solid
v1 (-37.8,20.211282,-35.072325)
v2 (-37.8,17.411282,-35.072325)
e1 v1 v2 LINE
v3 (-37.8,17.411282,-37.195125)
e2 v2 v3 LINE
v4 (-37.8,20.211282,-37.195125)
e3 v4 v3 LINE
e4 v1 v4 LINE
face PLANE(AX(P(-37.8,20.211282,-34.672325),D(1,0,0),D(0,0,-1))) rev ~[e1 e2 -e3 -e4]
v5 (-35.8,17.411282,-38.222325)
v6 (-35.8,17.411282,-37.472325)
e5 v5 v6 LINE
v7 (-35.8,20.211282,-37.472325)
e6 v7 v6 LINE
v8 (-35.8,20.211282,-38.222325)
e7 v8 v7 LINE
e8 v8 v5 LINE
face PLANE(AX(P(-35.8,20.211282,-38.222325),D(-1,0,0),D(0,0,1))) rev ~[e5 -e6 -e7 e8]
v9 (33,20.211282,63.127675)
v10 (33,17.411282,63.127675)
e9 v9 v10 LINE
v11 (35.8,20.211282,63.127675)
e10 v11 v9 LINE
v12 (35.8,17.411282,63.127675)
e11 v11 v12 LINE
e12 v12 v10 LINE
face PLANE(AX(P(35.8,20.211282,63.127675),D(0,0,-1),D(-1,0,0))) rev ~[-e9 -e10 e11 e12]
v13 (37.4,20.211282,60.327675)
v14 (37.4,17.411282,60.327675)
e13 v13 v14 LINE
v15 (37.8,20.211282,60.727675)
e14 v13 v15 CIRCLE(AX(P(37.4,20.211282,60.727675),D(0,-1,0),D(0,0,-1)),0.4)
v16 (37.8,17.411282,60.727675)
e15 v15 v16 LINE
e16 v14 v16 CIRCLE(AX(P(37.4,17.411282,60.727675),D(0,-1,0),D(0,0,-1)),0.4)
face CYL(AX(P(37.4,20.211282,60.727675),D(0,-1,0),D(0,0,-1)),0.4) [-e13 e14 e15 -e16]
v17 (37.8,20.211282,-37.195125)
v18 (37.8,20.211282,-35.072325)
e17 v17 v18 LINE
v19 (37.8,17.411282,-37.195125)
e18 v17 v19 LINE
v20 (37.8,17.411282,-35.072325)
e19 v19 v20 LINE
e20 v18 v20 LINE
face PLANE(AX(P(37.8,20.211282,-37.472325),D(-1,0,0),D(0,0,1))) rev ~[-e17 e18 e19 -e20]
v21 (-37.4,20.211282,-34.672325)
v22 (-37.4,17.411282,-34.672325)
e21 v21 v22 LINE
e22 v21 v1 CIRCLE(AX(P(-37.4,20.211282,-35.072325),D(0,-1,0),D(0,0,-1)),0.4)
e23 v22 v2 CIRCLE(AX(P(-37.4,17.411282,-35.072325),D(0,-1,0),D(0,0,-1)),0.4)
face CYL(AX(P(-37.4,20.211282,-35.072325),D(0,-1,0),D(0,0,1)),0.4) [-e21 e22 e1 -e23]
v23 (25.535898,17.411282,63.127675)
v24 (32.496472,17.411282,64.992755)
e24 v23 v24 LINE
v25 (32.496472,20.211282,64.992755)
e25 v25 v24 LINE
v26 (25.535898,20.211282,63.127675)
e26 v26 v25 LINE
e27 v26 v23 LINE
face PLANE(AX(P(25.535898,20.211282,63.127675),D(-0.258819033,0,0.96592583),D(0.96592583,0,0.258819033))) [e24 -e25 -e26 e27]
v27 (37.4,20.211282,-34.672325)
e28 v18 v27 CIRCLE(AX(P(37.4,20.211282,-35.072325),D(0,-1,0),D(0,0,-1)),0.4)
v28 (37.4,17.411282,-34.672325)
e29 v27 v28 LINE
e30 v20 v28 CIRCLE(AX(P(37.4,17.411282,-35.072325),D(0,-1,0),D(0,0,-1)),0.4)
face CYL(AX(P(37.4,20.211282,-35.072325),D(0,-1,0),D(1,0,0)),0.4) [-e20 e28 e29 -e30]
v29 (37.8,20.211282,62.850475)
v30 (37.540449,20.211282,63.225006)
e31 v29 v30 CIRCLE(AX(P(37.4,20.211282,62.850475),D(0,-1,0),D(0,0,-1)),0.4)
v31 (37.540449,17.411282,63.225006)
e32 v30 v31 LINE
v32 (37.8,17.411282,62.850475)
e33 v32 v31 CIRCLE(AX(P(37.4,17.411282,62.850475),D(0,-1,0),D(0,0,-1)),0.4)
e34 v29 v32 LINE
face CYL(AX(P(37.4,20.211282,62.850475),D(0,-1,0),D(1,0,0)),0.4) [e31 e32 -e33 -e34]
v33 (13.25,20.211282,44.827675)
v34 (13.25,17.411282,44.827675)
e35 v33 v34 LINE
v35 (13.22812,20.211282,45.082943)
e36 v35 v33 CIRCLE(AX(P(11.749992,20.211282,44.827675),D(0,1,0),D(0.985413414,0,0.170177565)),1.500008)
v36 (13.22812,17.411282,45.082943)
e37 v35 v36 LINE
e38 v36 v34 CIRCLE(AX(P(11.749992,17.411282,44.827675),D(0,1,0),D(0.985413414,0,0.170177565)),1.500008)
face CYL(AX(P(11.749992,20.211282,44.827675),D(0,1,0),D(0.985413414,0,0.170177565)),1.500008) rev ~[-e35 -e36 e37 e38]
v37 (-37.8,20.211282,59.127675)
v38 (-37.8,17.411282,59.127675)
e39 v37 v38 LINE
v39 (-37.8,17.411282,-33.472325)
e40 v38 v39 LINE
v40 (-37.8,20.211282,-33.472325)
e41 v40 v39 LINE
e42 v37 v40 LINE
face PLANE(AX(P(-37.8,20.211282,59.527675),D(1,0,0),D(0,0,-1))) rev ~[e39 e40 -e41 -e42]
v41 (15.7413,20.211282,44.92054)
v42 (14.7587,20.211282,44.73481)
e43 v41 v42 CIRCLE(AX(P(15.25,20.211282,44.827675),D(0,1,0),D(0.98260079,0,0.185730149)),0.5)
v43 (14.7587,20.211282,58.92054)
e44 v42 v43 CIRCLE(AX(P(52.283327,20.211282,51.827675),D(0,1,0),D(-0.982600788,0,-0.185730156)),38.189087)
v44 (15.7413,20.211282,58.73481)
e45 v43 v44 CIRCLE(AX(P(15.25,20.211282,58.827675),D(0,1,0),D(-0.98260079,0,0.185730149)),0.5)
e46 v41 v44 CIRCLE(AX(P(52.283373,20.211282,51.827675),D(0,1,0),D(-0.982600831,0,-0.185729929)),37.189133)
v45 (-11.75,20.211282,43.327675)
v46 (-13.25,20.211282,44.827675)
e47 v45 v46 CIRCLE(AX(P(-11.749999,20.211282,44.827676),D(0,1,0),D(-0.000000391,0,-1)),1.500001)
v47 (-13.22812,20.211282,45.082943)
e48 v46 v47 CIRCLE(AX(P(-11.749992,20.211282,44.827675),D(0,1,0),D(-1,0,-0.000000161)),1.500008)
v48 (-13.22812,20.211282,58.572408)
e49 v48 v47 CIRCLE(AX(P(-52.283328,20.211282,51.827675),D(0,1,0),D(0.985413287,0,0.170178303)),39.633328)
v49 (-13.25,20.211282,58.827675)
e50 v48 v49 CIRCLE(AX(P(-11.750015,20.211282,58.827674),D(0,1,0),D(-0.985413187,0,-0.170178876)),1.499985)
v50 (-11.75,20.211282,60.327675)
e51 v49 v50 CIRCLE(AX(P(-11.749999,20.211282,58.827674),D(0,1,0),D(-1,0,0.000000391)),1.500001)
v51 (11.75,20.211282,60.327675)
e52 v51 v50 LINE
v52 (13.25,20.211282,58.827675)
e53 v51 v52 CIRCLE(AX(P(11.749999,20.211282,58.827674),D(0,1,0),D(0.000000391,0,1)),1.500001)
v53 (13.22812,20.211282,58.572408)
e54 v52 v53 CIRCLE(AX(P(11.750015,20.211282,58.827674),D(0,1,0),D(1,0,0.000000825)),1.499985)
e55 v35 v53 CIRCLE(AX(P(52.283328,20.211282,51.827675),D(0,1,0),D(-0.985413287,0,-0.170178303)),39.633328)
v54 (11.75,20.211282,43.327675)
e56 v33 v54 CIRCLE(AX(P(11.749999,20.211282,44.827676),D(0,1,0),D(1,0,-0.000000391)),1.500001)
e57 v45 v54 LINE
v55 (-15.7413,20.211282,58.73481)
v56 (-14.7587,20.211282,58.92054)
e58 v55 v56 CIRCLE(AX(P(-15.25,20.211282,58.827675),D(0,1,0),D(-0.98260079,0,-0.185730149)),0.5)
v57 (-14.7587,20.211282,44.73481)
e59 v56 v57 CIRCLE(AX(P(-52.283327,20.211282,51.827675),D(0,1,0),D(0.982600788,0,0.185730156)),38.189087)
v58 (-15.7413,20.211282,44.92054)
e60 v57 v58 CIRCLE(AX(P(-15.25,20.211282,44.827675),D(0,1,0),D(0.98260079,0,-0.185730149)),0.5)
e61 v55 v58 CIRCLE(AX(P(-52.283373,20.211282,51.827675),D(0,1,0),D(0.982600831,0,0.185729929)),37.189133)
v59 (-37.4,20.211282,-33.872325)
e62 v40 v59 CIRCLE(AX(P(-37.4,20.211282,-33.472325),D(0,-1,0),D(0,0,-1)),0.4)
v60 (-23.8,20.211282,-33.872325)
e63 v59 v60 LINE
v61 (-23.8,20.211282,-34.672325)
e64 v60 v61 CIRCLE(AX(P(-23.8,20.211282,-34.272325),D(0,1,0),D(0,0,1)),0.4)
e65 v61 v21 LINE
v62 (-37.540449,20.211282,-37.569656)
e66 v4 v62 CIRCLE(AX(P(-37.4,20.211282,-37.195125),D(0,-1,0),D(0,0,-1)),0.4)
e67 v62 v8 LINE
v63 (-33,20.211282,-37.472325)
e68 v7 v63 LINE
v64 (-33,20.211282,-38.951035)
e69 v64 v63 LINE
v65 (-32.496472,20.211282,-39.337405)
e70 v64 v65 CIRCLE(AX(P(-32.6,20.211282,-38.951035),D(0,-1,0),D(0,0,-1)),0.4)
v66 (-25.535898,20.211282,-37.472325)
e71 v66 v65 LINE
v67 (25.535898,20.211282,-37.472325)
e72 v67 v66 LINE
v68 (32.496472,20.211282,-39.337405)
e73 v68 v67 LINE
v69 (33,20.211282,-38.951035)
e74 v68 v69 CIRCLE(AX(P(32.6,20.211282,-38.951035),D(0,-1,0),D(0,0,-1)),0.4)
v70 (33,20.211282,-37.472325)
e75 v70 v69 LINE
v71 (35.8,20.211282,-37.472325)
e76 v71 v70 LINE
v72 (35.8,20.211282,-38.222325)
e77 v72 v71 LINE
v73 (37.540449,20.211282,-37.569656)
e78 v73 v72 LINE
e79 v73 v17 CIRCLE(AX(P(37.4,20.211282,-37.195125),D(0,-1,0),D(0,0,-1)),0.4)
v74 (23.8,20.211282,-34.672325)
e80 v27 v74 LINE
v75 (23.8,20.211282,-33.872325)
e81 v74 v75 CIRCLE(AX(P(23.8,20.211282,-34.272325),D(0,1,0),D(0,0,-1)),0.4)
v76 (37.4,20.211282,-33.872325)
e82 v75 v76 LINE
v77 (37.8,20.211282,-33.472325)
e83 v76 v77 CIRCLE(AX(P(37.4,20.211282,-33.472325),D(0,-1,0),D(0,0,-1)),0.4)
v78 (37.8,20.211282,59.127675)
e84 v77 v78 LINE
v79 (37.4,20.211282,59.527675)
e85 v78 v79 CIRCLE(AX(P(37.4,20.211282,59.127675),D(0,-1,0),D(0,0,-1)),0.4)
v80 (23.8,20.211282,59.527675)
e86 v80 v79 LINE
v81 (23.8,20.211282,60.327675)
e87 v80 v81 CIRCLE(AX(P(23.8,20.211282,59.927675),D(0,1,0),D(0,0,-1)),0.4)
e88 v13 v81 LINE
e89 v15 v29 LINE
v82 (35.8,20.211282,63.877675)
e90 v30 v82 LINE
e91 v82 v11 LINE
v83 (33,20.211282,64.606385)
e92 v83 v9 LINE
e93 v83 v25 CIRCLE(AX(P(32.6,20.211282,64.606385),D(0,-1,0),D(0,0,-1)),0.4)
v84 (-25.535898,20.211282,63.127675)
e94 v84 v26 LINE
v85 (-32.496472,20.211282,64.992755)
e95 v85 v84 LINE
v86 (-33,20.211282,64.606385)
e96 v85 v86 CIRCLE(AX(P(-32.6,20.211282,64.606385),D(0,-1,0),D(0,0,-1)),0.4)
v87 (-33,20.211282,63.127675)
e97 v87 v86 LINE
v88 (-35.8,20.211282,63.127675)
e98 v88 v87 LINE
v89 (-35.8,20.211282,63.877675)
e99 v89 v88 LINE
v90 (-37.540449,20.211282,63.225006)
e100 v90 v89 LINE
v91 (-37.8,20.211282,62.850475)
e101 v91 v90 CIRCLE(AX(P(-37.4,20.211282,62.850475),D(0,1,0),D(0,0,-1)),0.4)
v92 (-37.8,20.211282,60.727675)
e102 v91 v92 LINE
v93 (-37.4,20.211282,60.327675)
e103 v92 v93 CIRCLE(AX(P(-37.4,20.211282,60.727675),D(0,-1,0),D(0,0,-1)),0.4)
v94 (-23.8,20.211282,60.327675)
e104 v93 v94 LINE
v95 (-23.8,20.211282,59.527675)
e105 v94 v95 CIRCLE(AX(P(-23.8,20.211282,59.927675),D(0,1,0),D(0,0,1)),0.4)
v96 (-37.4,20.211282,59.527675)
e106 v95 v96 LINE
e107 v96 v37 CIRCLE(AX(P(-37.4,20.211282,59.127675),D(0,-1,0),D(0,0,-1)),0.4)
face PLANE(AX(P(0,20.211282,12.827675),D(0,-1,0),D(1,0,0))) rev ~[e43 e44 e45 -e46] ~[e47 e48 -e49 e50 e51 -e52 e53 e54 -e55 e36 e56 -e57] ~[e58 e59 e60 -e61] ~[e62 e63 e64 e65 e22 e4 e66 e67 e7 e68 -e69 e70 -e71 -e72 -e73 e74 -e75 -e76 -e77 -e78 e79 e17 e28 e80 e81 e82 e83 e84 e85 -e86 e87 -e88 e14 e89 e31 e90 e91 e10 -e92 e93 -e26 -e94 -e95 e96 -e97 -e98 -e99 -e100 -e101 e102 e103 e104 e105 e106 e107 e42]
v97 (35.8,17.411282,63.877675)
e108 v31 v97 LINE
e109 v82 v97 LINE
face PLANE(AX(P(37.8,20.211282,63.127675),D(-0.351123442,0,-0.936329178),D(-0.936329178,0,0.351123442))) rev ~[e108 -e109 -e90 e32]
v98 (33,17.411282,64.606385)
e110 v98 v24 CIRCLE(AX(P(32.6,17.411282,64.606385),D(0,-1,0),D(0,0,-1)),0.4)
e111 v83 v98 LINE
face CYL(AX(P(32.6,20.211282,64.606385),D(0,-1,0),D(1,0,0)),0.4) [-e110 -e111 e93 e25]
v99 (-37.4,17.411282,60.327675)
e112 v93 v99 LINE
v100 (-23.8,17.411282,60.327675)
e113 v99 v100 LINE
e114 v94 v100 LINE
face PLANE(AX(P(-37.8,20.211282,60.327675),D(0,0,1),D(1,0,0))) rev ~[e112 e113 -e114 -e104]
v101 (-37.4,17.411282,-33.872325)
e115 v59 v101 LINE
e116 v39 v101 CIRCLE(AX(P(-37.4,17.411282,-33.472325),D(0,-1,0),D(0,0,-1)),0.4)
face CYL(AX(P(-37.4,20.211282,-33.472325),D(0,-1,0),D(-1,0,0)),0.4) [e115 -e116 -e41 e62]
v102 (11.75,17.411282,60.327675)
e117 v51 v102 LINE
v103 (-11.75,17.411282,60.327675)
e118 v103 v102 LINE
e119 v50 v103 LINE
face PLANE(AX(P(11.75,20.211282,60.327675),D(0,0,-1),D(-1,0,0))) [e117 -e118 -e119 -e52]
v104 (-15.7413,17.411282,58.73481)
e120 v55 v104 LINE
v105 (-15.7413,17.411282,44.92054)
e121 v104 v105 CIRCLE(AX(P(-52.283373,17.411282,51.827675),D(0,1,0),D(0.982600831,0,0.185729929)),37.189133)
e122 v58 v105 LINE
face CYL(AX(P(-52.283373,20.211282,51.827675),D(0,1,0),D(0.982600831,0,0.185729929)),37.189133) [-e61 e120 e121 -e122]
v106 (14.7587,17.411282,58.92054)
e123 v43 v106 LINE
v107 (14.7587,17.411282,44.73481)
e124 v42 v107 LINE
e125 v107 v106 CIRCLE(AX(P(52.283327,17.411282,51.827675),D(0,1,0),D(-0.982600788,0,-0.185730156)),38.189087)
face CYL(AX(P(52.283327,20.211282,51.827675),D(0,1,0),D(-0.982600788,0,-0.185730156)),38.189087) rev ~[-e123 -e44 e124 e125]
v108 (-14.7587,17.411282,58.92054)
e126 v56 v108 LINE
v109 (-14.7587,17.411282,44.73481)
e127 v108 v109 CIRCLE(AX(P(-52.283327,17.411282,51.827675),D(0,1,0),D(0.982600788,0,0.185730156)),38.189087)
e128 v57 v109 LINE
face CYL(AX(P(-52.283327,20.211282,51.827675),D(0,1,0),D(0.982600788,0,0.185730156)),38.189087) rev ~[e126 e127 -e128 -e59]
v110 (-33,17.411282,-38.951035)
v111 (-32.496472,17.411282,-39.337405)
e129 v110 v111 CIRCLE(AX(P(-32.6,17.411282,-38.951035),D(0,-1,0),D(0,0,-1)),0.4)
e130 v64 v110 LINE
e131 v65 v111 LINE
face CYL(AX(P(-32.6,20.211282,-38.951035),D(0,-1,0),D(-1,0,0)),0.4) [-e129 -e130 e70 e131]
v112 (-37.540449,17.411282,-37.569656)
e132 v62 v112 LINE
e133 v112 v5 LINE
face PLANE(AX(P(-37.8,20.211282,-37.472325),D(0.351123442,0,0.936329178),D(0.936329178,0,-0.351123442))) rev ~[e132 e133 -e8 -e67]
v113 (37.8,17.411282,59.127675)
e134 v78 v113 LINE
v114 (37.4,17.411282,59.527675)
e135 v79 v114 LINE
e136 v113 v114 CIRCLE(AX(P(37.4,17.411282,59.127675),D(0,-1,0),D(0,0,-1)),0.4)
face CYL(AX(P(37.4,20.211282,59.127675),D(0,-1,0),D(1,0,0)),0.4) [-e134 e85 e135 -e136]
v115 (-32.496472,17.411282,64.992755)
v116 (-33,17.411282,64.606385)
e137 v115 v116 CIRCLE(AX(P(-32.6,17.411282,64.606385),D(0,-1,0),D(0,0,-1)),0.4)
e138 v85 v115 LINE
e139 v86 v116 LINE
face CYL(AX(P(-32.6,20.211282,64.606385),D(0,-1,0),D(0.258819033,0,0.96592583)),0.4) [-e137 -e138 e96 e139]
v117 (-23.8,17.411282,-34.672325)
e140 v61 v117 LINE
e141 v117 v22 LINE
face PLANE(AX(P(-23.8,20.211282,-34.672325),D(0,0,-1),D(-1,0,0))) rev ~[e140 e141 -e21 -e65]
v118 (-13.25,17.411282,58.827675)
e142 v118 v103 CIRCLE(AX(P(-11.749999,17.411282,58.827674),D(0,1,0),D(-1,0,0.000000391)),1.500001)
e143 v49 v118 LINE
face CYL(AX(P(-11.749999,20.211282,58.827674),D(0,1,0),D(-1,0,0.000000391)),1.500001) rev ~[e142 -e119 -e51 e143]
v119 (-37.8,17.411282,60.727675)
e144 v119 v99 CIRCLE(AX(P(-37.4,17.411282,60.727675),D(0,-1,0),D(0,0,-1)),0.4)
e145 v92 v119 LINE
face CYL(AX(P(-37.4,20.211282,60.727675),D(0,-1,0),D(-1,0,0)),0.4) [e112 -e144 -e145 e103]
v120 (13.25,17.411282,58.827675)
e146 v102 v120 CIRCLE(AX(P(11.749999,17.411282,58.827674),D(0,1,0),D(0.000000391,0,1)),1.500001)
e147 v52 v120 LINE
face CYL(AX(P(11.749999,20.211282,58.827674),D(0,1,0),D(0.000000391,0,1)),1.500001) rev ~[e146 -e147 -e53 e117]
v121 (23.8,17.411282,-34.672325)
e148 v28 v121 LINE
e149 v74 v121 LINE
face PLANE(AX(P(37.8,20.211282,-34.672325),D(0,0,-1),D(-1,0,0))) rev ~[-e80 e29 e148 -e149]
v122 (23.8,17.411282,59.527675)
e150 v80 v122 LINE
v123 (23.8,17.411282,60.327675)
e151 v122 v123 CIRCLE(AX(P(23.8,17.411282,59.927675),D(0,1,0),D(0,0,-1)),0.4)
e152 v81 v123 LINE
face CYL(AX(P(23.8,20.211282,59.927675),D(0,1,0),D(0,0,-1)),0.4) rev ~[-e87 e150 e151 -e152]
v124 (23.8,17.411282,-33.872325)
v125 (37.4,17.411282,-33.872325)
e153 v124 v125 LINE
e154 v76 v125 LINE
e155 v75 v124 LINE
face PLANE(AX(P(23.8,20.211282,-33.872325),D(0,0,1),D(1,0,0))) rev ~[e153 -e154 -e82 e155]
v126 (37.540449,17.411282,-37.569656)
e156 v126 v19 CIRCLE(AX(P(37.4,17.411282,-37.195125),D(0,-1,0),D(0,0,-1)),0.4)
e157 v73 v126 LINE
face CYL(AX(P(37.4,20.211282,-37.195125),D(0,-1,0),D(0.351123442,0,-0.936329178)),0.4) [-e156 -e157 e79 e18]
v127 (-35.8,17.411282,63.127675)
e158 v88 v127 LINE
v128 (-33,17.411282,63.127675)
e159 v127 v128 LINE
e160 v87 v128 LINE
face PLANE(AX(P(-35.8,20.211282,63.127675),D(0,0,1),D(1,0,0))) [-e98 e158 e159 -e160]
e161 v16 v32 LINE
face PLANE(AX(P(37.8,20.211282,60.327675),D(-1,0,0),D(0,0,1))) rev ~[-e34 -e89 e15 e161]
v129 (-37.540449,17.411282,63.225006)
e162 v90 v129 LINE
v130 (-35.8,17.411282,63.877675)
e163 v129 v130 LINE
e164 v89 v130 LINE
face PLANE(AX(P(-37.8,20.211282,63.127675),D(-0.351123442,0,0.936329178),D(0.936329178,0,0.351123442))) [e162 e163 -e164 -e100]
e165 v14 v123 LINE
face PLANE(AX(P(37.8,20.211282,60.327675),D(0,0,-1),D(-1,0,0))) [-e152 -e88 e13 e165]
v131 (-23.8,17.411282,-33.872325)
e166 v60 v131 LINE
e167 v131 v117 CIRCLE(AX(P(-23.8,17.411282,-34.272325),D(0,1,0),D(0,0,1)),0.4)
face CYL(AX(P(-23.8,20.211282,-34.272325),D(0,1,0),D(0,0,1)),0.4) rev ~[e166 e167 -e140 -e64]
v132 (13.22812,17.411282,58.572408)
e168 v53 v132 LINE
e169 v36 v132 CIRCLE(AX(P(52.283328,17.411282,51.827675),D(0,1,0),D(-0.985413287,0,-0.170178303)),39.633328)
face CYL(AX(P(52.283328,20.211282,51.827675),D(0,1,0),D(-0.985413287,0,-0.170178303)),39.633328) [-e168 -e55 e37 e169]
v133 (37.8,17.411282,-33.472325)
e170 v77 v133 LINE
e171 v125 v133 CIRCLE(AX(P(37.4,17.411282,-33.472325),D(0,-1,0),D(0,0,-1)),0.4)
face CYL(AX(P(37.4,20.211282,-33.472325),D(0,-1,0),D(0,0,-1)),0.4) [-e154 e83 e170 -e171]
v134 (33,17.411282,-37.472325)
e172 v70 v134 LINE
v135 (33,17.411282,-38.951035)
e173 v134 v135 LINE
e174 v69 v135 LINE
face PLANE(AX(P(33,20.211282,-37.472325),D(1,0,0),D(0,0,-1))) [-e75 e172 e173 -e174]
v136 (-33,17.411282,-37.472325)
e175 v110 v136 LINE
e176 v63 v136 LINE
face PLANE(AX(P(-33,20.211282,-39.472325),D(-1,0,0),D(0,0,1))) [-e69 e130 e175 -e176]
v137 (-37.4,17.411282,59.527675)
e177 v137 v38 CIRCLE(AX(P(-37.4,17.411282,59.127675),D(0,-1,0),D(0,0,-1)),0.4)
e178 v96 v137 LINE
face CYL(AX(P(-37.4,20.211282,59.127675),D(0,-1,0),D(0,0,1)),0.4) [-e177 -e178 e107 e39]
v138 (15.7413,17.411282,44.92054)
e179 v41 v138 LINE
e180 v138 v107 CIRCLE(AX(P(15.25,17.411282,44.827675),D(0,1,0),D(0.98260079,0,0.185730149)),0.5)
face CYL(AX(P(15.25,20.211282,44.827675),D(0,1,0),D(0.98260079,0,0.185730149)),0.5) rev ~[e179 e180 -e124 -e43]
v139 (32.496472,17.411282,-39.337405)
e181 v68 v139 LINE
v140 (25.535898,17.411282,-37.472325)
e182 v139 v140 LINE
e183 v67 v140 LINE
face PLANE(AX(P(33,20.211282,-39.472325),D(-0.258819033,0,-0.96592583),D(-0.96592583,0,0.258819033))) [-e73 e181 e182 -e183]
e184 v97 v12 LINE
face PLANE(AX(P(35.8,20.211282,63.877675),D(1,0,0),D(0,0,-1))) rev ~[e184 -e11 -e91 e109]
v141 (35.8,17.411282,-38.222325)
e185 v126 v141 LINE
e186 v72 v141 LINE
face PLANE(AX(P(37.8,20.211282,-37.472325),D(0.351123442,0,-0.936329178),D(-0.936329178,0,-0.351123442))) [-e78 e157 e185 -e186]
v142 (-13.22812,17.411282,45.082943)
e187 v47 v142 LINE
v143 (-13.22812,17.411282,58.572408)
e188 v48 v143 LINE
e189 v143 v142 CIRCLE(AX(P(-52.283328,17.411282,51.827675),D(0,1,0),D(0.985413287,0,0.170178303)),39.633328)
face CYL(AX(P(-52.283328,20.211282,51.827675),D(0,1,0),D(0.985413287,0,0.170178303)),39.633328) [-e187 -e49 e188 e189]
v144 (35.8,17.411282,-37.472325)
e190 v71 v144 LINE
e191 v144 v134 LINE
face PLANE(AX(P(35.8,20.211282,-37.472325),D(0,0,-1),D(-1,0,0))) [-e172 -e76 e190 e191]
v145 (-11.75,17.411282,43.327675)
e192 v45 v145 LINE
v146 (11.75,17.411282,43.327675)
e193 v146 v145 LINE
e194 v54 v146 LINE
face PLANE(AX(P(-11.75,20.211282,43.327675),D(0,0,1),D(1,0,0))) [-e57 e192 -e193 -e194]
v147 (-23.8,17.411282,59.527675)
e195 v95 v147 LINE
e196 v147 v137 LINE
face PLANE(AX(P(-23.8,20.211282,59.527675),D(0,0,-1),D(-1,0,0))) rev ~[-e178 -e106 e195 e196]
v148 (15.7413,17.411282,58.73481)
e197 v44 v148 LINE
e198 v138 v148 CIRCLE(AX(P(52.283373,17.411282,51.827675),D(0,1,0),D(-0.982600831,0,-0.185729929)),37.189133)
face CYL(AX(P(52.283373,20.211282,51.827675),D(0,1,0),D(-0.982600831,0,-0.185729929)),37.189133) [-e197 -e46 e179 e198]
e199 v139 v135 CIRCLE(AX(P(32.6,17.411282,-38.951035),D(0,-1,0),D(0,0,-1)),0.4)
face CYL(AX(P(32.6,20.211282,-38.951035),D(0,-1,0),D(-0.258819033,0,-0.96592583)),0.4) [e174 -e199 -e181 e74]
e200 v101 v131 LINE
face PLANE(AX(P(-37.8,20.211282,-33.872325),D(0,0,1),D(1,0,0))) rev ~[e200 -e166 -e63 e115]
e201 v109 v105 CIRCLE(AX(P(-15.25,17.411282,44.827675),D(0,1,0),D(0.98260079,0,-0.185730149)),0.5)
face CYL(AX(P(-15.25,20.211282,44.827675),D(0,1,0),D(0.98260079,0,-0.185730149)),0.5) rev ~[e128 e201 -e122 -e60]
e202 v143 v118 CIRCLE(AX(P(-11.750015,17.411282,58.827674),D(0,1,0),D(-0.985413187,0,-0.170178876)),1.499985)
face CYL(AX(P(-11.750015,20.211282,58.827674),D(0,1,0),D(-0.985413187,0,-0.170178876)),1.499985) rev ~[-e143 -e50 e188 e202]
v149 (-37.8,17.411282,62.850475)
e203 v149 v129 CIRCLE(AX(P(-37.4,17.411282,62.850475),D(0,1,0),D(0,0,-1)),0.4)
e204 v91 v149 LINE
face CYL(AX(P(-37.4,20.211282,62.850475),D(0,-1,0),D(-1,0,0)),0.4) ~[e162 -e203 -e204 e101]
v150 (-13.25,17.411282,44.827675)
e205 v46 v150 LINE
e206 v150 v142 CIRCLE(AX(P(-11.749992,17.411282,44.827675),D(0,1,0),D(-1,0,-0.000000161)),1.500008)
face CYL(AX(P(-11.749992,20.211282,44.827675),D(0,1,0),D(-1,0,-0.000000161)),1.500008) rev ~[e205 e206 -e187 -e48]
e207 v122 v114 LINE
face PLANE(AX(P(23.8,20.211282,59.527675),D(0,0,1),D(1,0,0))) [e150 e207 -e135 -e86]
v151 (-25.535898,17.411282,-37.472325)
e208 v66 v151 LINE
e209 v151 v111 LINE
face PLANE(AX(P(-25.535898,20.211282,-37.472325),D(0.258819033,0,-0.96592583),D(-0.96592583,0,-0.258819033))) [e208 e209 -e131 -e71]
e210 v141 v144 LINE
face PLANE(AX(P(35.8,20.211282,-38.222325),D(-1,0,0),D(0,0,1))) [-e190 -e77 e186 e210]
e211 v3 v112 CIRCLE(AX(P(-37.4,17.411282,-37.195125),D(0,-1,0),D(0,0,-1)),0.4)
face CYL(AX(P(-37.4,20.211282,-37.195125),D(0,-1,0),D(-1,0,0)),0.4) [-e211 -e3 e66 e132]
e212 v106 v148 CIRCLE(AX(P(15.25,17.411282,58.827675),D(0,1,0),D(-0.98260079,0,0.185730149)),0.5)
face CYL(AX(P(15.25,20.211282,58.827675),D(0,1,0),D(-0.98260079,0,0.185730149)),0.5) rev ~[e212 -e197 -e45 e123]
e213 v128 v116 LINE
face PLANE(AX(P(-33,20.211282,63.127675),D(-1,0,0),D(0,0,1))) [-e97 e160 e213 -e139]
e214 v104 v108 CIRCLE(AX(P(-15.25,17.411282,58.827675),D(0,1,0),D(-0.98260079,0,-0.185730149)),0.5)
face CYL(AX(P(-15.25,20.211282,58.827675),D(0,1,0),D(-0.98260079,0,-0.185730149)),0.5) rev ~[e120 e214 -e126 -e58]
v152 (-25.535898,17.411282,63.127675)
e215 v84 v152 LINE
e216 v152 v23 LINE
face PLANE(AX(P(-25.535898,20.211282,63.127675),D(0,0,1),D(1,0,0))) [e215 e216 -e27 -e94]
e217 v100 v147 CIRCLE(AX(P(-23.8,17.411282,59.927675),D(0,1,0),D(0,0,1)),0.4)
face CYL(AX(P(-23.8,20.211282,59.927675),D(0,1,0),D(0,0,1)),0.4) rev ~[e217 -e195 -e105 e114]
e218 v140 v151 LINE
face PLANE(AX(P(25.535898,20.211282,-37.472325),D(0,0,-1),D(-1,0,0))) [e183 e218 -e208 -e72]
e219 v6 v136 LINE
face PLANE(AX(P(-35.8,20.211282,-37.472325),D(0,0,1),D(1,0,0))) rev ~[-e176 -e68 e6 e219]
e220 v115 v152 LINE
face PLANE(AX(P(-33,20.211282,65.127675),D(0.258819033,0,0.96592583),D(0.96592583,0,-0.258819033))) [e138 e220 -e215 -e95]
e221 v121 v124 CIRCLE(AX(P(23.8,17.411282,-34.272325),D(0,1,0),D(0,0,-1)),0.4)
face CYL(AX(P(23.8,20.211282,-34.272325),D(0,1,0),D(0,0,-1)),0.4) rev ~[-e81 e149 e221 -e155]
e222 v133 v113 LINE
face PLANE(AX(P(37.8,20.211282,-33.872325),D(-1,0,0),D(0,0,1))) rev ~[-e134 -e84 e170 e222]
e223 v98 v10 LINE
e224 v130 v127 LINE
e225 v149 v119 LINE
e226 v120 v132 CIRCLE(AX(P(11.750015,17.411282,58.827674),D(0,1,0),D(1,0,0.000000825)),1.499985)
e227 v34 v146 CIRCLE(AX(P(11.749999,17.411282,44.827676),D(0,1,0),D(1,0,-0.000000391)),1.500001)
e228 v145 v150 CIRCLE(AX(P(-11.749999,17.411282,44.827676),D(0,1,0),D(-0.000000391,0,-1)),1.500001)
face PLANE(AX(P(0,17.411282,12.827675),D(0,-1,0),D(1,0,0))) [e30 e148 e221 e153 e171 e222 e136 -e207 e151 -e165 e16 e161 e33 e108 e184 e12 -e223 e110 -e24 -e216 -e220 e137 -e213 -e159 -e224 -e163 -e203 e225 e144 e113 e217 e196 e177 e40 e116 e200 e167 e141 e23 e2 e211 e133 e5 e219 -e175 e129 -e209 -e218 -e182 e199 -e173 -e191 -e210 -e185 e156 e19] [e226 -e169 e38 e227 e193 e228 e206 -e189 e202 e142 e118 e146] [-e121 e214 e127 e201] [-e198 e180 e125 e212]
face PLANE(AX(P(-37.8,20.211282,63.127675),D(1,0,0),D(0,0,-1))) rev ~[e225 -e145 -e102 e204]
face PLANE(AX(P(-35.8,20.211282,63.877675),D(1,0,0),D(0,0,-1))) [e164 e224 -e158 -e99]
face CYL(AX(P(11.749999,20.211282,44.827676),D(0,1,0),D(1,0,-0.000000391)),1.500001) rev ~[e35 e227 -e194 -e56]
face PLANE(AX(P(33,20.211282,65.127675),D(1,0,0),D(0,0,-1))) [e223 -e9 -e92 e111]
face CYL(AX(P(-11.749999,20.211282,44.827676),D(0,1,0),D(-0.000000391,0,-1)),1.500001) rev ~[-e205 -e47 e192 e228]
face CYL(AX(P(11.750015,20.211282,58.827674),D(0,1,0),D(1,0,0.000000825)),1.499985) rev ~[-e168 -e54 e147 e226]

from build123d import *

# Parameters (mm, degrees)
PAD008_DEPTH    = 2.8
FILLET001_R     = 0.4
POCKET007_DEPTH = 2.801


with BuildPart() as part:
    # Sketch008 (on Face4 of ShapeBinder007) → Pad008 (new body)
    with BuildSketch(Plane(origin=(0, 20.211282, 0), x_dir=(-1, 0, 0), z_dir=(0, 1, 0))):
        with BuildLine():
            Line((37.8, 63.127675), (37.8, 60.327675))
            Line((37.8, 60.327675), (23.8, 60.327675))
            ThreePointArc((23.8, 60.327675), (23.4, 59.927675), (23.8, 59.527675))
            Line((23.8, 59.527675), (37.8, 59.527675))
            Line((37.8, 59.527675), (37.8, -33.872325))
            Line((37.8, -33.872325), (23.8, -33.872325))
            ThreePointArc((23.8, -33.872325), (23.4, -34.272325), (23.8, -34.672325))
            Line((23.8, -34.672325), (37.8, -34.672325))
            Line((37.8, -34.672325), (37.8, -37.472325))
            Line((37.8, -37.472325), (35.8, -38.222325))
            Line((35.8, -38.222325), (35.8, -37.472325))
            Line((35.8, -37.472325), (33, -37.472325))
            Line((33, -39.472325), (33, -37.472325))
            Line((25.535898, -37.472325), (33, -39.472325))
            Line((-25.535898, -37.472325), (25.535898, -37.472325))
            Line((-33, -39.472325), (-25.535898, -37.472325))
            Line((-33, -37.472325), (-33, -39.472325))
            Line((-35.8, -37.472325), (-33, -37.472325))
            Line((-35.8, -38.222325), (-35.8, -37.472325))
            Line((-37.8, -37.472325), (-35.8, -38.222325))
            Line((-37.8, -37.472325), (-37.8, -34.672325))
            Line((-37.8, -34.672325), (-23.8, -34.672325))
            ThreePointArc((-23.8, -34.672325), (-23.4, -34.272325), (-23.8, -33.872325))
            Line((-23.8, -33.872325), (-37.8, -33.872325))
            Line((-37.8, -33.872325), (-37.8, 59.527675))
            Line((-23.8, 59.527675), (-37.8, 59.527675))
            ThreePointArc((-23.8, 59.527675), (-23.4, 59.927675), (-23.8, 60.327675))
            Line((-37.8, 60.327675), (-23.8, 60.327675))
            Line((-37.8, 60.327675), (-37.8, 63.127675))
            Line((-37.8, 63.127675), (-35.8, 63.877675))
            Line((-35.8, 63.877675), (-35.8, 63.127675))
            Line((-35.8, 63.127675), (-33, 63.127675))
            Line((-33, 65.127675), (-33, 63.127675))
            Line((-25.535898, 63.127675), (-33, 65.127675))
            Line((25.535898, 63.127675), (-25.535898, 63.127675))
            Line((33, 65.127675), (25.535898, 63.127675))
            Line((33, 63.127675), (33, 65.127675))
            Line((35.8, 63.127675), (33, 63.127675))
            Line((35.8, 63.877675), (35.8, 63.127675))
            Line((37.8, 63.127675), (35.8, 63.877675))
        make_face()
    extrude(amount=-PAD008_DEPTH)

    # Fillet001
    fillet001_edges = [part.edges().sort_by_distance(p)[0] for p in [
        (-33, 18.811282, 65.127675),
        (-37.8, 18.811282, 63.127675),
        (-37.8, 18.811282, 60.327675),
        (-37.8, 18.811282, 59.527675),
        (-37.8, 18.811282, -33.872325),
        (-37.8, 18.811282, -34.672325),
        (-37.8, 18.811282, -37.472325),
        (-33, 18.811282, -39.472325),
        (33, 18.811282, 65.127675),
        (37.8, 18.811282, 63.127675),
        (37.8, 18.811282, 60.327675),
        (37.8, 18.811282, 59.527675),
        (37.8, 18.811282, -33.872325),
        (37.8, 18.811282, -34.672325),
        (37.8, 18.811282, -37.472325),
        (33, 18.811282, -39.472325),
    ]]
    fillet(fillet001_edges, radius=FILLET001_R)

    # Sketch017 (on Face2 of Fillet001) → Pocket007 (cut, through all)
    with BuildSketch(Plane(origin=(0, 20.211282, 0), x_dir=(-1, 0, 0), z_dir=(0, 1, 0))):
        with BuildLine():
            ThreePointArc((-11.75, 60.327675), (-12.81066, 59.888335), (-13.25, 58.827675))
            ThreePointArc((-13.25, 58.827675), (-13.24452, 58.699573), (-13.22812, 58.572408))
            ThreePointArc((-13.22812, 45.082943), (-12.65, 51.827675), (-13.22812, 58.572408))
            ThreePointArc((-13.22812, 45.082943), (-13.24452, 44.955777), (-13.25, 44.827675))
            ThreePointArc((-13.25, 44.827675), (-12.81066, 43.767015), (-11.75, 43.327675))
            Line((11.75, 43.327675), (-11.75, 43.327675))
            ThreePointArc((11.75, 43.327675), (12.81066, 43.767015), (13.25, 44.827675))
            ThreePointArc((13.25, 44.827675), (13.24452, 44.955777), (13.22812, 45.082943))
            ThreePointArc((13.22812, 58.572408), (12.65, 51.827675), (13.22812, 45.082943))
            ThreePointArc((13.22812, 58.572408), (13.24452, 58.699573), (13.25, 58.827675))
            ThreePointArc((13.25, 58.827675), (12.81066, 59.888335), (11.75, 60.327675))
            Line((-11.75, 60.327675), (11.75, 60.327675))
        make_face()
        with BuildLine():
            ThreePointArc((-14.7587, 44.73481), (-14.09424, 51.827675), (-14.7587, 58.92054))
            ThreePointArc((-14.7587, 58.92054), (-15.342865, 59.318975), (-15.7413, 58.73481))
            ThreePointArc((-15.7413, 44.92054), (-15.09424, 51.827675), (-15.7413, 58.73481))
            ThreePointArc((-15.7413, 44.92054), (-15.342865, 44.336375), (-14.7587, 44.73481))
        make_face()
        with BuildLine():
            ThreePointArc((14.7587, 58.92054), (14.09424, 51.827675), (14.7587, 44.73481))
            ThreePointArc((14.7587, 44.73481), (15.342865, 44.336375), (15.7413, 44.92054))
            ThreePointArc((15.7413, 58.73481), (15.09424, 51.827675), (15.7413, 44.92054))
            ThreePointArc((15.7413, 58.73481), (15.342865, 59.318975), (14.7587, 58.92054))
        make_face()
    extrude(amount=-POCKET007_DEPTH, mode=Mode.SUBTRACT)


solid = part.part
